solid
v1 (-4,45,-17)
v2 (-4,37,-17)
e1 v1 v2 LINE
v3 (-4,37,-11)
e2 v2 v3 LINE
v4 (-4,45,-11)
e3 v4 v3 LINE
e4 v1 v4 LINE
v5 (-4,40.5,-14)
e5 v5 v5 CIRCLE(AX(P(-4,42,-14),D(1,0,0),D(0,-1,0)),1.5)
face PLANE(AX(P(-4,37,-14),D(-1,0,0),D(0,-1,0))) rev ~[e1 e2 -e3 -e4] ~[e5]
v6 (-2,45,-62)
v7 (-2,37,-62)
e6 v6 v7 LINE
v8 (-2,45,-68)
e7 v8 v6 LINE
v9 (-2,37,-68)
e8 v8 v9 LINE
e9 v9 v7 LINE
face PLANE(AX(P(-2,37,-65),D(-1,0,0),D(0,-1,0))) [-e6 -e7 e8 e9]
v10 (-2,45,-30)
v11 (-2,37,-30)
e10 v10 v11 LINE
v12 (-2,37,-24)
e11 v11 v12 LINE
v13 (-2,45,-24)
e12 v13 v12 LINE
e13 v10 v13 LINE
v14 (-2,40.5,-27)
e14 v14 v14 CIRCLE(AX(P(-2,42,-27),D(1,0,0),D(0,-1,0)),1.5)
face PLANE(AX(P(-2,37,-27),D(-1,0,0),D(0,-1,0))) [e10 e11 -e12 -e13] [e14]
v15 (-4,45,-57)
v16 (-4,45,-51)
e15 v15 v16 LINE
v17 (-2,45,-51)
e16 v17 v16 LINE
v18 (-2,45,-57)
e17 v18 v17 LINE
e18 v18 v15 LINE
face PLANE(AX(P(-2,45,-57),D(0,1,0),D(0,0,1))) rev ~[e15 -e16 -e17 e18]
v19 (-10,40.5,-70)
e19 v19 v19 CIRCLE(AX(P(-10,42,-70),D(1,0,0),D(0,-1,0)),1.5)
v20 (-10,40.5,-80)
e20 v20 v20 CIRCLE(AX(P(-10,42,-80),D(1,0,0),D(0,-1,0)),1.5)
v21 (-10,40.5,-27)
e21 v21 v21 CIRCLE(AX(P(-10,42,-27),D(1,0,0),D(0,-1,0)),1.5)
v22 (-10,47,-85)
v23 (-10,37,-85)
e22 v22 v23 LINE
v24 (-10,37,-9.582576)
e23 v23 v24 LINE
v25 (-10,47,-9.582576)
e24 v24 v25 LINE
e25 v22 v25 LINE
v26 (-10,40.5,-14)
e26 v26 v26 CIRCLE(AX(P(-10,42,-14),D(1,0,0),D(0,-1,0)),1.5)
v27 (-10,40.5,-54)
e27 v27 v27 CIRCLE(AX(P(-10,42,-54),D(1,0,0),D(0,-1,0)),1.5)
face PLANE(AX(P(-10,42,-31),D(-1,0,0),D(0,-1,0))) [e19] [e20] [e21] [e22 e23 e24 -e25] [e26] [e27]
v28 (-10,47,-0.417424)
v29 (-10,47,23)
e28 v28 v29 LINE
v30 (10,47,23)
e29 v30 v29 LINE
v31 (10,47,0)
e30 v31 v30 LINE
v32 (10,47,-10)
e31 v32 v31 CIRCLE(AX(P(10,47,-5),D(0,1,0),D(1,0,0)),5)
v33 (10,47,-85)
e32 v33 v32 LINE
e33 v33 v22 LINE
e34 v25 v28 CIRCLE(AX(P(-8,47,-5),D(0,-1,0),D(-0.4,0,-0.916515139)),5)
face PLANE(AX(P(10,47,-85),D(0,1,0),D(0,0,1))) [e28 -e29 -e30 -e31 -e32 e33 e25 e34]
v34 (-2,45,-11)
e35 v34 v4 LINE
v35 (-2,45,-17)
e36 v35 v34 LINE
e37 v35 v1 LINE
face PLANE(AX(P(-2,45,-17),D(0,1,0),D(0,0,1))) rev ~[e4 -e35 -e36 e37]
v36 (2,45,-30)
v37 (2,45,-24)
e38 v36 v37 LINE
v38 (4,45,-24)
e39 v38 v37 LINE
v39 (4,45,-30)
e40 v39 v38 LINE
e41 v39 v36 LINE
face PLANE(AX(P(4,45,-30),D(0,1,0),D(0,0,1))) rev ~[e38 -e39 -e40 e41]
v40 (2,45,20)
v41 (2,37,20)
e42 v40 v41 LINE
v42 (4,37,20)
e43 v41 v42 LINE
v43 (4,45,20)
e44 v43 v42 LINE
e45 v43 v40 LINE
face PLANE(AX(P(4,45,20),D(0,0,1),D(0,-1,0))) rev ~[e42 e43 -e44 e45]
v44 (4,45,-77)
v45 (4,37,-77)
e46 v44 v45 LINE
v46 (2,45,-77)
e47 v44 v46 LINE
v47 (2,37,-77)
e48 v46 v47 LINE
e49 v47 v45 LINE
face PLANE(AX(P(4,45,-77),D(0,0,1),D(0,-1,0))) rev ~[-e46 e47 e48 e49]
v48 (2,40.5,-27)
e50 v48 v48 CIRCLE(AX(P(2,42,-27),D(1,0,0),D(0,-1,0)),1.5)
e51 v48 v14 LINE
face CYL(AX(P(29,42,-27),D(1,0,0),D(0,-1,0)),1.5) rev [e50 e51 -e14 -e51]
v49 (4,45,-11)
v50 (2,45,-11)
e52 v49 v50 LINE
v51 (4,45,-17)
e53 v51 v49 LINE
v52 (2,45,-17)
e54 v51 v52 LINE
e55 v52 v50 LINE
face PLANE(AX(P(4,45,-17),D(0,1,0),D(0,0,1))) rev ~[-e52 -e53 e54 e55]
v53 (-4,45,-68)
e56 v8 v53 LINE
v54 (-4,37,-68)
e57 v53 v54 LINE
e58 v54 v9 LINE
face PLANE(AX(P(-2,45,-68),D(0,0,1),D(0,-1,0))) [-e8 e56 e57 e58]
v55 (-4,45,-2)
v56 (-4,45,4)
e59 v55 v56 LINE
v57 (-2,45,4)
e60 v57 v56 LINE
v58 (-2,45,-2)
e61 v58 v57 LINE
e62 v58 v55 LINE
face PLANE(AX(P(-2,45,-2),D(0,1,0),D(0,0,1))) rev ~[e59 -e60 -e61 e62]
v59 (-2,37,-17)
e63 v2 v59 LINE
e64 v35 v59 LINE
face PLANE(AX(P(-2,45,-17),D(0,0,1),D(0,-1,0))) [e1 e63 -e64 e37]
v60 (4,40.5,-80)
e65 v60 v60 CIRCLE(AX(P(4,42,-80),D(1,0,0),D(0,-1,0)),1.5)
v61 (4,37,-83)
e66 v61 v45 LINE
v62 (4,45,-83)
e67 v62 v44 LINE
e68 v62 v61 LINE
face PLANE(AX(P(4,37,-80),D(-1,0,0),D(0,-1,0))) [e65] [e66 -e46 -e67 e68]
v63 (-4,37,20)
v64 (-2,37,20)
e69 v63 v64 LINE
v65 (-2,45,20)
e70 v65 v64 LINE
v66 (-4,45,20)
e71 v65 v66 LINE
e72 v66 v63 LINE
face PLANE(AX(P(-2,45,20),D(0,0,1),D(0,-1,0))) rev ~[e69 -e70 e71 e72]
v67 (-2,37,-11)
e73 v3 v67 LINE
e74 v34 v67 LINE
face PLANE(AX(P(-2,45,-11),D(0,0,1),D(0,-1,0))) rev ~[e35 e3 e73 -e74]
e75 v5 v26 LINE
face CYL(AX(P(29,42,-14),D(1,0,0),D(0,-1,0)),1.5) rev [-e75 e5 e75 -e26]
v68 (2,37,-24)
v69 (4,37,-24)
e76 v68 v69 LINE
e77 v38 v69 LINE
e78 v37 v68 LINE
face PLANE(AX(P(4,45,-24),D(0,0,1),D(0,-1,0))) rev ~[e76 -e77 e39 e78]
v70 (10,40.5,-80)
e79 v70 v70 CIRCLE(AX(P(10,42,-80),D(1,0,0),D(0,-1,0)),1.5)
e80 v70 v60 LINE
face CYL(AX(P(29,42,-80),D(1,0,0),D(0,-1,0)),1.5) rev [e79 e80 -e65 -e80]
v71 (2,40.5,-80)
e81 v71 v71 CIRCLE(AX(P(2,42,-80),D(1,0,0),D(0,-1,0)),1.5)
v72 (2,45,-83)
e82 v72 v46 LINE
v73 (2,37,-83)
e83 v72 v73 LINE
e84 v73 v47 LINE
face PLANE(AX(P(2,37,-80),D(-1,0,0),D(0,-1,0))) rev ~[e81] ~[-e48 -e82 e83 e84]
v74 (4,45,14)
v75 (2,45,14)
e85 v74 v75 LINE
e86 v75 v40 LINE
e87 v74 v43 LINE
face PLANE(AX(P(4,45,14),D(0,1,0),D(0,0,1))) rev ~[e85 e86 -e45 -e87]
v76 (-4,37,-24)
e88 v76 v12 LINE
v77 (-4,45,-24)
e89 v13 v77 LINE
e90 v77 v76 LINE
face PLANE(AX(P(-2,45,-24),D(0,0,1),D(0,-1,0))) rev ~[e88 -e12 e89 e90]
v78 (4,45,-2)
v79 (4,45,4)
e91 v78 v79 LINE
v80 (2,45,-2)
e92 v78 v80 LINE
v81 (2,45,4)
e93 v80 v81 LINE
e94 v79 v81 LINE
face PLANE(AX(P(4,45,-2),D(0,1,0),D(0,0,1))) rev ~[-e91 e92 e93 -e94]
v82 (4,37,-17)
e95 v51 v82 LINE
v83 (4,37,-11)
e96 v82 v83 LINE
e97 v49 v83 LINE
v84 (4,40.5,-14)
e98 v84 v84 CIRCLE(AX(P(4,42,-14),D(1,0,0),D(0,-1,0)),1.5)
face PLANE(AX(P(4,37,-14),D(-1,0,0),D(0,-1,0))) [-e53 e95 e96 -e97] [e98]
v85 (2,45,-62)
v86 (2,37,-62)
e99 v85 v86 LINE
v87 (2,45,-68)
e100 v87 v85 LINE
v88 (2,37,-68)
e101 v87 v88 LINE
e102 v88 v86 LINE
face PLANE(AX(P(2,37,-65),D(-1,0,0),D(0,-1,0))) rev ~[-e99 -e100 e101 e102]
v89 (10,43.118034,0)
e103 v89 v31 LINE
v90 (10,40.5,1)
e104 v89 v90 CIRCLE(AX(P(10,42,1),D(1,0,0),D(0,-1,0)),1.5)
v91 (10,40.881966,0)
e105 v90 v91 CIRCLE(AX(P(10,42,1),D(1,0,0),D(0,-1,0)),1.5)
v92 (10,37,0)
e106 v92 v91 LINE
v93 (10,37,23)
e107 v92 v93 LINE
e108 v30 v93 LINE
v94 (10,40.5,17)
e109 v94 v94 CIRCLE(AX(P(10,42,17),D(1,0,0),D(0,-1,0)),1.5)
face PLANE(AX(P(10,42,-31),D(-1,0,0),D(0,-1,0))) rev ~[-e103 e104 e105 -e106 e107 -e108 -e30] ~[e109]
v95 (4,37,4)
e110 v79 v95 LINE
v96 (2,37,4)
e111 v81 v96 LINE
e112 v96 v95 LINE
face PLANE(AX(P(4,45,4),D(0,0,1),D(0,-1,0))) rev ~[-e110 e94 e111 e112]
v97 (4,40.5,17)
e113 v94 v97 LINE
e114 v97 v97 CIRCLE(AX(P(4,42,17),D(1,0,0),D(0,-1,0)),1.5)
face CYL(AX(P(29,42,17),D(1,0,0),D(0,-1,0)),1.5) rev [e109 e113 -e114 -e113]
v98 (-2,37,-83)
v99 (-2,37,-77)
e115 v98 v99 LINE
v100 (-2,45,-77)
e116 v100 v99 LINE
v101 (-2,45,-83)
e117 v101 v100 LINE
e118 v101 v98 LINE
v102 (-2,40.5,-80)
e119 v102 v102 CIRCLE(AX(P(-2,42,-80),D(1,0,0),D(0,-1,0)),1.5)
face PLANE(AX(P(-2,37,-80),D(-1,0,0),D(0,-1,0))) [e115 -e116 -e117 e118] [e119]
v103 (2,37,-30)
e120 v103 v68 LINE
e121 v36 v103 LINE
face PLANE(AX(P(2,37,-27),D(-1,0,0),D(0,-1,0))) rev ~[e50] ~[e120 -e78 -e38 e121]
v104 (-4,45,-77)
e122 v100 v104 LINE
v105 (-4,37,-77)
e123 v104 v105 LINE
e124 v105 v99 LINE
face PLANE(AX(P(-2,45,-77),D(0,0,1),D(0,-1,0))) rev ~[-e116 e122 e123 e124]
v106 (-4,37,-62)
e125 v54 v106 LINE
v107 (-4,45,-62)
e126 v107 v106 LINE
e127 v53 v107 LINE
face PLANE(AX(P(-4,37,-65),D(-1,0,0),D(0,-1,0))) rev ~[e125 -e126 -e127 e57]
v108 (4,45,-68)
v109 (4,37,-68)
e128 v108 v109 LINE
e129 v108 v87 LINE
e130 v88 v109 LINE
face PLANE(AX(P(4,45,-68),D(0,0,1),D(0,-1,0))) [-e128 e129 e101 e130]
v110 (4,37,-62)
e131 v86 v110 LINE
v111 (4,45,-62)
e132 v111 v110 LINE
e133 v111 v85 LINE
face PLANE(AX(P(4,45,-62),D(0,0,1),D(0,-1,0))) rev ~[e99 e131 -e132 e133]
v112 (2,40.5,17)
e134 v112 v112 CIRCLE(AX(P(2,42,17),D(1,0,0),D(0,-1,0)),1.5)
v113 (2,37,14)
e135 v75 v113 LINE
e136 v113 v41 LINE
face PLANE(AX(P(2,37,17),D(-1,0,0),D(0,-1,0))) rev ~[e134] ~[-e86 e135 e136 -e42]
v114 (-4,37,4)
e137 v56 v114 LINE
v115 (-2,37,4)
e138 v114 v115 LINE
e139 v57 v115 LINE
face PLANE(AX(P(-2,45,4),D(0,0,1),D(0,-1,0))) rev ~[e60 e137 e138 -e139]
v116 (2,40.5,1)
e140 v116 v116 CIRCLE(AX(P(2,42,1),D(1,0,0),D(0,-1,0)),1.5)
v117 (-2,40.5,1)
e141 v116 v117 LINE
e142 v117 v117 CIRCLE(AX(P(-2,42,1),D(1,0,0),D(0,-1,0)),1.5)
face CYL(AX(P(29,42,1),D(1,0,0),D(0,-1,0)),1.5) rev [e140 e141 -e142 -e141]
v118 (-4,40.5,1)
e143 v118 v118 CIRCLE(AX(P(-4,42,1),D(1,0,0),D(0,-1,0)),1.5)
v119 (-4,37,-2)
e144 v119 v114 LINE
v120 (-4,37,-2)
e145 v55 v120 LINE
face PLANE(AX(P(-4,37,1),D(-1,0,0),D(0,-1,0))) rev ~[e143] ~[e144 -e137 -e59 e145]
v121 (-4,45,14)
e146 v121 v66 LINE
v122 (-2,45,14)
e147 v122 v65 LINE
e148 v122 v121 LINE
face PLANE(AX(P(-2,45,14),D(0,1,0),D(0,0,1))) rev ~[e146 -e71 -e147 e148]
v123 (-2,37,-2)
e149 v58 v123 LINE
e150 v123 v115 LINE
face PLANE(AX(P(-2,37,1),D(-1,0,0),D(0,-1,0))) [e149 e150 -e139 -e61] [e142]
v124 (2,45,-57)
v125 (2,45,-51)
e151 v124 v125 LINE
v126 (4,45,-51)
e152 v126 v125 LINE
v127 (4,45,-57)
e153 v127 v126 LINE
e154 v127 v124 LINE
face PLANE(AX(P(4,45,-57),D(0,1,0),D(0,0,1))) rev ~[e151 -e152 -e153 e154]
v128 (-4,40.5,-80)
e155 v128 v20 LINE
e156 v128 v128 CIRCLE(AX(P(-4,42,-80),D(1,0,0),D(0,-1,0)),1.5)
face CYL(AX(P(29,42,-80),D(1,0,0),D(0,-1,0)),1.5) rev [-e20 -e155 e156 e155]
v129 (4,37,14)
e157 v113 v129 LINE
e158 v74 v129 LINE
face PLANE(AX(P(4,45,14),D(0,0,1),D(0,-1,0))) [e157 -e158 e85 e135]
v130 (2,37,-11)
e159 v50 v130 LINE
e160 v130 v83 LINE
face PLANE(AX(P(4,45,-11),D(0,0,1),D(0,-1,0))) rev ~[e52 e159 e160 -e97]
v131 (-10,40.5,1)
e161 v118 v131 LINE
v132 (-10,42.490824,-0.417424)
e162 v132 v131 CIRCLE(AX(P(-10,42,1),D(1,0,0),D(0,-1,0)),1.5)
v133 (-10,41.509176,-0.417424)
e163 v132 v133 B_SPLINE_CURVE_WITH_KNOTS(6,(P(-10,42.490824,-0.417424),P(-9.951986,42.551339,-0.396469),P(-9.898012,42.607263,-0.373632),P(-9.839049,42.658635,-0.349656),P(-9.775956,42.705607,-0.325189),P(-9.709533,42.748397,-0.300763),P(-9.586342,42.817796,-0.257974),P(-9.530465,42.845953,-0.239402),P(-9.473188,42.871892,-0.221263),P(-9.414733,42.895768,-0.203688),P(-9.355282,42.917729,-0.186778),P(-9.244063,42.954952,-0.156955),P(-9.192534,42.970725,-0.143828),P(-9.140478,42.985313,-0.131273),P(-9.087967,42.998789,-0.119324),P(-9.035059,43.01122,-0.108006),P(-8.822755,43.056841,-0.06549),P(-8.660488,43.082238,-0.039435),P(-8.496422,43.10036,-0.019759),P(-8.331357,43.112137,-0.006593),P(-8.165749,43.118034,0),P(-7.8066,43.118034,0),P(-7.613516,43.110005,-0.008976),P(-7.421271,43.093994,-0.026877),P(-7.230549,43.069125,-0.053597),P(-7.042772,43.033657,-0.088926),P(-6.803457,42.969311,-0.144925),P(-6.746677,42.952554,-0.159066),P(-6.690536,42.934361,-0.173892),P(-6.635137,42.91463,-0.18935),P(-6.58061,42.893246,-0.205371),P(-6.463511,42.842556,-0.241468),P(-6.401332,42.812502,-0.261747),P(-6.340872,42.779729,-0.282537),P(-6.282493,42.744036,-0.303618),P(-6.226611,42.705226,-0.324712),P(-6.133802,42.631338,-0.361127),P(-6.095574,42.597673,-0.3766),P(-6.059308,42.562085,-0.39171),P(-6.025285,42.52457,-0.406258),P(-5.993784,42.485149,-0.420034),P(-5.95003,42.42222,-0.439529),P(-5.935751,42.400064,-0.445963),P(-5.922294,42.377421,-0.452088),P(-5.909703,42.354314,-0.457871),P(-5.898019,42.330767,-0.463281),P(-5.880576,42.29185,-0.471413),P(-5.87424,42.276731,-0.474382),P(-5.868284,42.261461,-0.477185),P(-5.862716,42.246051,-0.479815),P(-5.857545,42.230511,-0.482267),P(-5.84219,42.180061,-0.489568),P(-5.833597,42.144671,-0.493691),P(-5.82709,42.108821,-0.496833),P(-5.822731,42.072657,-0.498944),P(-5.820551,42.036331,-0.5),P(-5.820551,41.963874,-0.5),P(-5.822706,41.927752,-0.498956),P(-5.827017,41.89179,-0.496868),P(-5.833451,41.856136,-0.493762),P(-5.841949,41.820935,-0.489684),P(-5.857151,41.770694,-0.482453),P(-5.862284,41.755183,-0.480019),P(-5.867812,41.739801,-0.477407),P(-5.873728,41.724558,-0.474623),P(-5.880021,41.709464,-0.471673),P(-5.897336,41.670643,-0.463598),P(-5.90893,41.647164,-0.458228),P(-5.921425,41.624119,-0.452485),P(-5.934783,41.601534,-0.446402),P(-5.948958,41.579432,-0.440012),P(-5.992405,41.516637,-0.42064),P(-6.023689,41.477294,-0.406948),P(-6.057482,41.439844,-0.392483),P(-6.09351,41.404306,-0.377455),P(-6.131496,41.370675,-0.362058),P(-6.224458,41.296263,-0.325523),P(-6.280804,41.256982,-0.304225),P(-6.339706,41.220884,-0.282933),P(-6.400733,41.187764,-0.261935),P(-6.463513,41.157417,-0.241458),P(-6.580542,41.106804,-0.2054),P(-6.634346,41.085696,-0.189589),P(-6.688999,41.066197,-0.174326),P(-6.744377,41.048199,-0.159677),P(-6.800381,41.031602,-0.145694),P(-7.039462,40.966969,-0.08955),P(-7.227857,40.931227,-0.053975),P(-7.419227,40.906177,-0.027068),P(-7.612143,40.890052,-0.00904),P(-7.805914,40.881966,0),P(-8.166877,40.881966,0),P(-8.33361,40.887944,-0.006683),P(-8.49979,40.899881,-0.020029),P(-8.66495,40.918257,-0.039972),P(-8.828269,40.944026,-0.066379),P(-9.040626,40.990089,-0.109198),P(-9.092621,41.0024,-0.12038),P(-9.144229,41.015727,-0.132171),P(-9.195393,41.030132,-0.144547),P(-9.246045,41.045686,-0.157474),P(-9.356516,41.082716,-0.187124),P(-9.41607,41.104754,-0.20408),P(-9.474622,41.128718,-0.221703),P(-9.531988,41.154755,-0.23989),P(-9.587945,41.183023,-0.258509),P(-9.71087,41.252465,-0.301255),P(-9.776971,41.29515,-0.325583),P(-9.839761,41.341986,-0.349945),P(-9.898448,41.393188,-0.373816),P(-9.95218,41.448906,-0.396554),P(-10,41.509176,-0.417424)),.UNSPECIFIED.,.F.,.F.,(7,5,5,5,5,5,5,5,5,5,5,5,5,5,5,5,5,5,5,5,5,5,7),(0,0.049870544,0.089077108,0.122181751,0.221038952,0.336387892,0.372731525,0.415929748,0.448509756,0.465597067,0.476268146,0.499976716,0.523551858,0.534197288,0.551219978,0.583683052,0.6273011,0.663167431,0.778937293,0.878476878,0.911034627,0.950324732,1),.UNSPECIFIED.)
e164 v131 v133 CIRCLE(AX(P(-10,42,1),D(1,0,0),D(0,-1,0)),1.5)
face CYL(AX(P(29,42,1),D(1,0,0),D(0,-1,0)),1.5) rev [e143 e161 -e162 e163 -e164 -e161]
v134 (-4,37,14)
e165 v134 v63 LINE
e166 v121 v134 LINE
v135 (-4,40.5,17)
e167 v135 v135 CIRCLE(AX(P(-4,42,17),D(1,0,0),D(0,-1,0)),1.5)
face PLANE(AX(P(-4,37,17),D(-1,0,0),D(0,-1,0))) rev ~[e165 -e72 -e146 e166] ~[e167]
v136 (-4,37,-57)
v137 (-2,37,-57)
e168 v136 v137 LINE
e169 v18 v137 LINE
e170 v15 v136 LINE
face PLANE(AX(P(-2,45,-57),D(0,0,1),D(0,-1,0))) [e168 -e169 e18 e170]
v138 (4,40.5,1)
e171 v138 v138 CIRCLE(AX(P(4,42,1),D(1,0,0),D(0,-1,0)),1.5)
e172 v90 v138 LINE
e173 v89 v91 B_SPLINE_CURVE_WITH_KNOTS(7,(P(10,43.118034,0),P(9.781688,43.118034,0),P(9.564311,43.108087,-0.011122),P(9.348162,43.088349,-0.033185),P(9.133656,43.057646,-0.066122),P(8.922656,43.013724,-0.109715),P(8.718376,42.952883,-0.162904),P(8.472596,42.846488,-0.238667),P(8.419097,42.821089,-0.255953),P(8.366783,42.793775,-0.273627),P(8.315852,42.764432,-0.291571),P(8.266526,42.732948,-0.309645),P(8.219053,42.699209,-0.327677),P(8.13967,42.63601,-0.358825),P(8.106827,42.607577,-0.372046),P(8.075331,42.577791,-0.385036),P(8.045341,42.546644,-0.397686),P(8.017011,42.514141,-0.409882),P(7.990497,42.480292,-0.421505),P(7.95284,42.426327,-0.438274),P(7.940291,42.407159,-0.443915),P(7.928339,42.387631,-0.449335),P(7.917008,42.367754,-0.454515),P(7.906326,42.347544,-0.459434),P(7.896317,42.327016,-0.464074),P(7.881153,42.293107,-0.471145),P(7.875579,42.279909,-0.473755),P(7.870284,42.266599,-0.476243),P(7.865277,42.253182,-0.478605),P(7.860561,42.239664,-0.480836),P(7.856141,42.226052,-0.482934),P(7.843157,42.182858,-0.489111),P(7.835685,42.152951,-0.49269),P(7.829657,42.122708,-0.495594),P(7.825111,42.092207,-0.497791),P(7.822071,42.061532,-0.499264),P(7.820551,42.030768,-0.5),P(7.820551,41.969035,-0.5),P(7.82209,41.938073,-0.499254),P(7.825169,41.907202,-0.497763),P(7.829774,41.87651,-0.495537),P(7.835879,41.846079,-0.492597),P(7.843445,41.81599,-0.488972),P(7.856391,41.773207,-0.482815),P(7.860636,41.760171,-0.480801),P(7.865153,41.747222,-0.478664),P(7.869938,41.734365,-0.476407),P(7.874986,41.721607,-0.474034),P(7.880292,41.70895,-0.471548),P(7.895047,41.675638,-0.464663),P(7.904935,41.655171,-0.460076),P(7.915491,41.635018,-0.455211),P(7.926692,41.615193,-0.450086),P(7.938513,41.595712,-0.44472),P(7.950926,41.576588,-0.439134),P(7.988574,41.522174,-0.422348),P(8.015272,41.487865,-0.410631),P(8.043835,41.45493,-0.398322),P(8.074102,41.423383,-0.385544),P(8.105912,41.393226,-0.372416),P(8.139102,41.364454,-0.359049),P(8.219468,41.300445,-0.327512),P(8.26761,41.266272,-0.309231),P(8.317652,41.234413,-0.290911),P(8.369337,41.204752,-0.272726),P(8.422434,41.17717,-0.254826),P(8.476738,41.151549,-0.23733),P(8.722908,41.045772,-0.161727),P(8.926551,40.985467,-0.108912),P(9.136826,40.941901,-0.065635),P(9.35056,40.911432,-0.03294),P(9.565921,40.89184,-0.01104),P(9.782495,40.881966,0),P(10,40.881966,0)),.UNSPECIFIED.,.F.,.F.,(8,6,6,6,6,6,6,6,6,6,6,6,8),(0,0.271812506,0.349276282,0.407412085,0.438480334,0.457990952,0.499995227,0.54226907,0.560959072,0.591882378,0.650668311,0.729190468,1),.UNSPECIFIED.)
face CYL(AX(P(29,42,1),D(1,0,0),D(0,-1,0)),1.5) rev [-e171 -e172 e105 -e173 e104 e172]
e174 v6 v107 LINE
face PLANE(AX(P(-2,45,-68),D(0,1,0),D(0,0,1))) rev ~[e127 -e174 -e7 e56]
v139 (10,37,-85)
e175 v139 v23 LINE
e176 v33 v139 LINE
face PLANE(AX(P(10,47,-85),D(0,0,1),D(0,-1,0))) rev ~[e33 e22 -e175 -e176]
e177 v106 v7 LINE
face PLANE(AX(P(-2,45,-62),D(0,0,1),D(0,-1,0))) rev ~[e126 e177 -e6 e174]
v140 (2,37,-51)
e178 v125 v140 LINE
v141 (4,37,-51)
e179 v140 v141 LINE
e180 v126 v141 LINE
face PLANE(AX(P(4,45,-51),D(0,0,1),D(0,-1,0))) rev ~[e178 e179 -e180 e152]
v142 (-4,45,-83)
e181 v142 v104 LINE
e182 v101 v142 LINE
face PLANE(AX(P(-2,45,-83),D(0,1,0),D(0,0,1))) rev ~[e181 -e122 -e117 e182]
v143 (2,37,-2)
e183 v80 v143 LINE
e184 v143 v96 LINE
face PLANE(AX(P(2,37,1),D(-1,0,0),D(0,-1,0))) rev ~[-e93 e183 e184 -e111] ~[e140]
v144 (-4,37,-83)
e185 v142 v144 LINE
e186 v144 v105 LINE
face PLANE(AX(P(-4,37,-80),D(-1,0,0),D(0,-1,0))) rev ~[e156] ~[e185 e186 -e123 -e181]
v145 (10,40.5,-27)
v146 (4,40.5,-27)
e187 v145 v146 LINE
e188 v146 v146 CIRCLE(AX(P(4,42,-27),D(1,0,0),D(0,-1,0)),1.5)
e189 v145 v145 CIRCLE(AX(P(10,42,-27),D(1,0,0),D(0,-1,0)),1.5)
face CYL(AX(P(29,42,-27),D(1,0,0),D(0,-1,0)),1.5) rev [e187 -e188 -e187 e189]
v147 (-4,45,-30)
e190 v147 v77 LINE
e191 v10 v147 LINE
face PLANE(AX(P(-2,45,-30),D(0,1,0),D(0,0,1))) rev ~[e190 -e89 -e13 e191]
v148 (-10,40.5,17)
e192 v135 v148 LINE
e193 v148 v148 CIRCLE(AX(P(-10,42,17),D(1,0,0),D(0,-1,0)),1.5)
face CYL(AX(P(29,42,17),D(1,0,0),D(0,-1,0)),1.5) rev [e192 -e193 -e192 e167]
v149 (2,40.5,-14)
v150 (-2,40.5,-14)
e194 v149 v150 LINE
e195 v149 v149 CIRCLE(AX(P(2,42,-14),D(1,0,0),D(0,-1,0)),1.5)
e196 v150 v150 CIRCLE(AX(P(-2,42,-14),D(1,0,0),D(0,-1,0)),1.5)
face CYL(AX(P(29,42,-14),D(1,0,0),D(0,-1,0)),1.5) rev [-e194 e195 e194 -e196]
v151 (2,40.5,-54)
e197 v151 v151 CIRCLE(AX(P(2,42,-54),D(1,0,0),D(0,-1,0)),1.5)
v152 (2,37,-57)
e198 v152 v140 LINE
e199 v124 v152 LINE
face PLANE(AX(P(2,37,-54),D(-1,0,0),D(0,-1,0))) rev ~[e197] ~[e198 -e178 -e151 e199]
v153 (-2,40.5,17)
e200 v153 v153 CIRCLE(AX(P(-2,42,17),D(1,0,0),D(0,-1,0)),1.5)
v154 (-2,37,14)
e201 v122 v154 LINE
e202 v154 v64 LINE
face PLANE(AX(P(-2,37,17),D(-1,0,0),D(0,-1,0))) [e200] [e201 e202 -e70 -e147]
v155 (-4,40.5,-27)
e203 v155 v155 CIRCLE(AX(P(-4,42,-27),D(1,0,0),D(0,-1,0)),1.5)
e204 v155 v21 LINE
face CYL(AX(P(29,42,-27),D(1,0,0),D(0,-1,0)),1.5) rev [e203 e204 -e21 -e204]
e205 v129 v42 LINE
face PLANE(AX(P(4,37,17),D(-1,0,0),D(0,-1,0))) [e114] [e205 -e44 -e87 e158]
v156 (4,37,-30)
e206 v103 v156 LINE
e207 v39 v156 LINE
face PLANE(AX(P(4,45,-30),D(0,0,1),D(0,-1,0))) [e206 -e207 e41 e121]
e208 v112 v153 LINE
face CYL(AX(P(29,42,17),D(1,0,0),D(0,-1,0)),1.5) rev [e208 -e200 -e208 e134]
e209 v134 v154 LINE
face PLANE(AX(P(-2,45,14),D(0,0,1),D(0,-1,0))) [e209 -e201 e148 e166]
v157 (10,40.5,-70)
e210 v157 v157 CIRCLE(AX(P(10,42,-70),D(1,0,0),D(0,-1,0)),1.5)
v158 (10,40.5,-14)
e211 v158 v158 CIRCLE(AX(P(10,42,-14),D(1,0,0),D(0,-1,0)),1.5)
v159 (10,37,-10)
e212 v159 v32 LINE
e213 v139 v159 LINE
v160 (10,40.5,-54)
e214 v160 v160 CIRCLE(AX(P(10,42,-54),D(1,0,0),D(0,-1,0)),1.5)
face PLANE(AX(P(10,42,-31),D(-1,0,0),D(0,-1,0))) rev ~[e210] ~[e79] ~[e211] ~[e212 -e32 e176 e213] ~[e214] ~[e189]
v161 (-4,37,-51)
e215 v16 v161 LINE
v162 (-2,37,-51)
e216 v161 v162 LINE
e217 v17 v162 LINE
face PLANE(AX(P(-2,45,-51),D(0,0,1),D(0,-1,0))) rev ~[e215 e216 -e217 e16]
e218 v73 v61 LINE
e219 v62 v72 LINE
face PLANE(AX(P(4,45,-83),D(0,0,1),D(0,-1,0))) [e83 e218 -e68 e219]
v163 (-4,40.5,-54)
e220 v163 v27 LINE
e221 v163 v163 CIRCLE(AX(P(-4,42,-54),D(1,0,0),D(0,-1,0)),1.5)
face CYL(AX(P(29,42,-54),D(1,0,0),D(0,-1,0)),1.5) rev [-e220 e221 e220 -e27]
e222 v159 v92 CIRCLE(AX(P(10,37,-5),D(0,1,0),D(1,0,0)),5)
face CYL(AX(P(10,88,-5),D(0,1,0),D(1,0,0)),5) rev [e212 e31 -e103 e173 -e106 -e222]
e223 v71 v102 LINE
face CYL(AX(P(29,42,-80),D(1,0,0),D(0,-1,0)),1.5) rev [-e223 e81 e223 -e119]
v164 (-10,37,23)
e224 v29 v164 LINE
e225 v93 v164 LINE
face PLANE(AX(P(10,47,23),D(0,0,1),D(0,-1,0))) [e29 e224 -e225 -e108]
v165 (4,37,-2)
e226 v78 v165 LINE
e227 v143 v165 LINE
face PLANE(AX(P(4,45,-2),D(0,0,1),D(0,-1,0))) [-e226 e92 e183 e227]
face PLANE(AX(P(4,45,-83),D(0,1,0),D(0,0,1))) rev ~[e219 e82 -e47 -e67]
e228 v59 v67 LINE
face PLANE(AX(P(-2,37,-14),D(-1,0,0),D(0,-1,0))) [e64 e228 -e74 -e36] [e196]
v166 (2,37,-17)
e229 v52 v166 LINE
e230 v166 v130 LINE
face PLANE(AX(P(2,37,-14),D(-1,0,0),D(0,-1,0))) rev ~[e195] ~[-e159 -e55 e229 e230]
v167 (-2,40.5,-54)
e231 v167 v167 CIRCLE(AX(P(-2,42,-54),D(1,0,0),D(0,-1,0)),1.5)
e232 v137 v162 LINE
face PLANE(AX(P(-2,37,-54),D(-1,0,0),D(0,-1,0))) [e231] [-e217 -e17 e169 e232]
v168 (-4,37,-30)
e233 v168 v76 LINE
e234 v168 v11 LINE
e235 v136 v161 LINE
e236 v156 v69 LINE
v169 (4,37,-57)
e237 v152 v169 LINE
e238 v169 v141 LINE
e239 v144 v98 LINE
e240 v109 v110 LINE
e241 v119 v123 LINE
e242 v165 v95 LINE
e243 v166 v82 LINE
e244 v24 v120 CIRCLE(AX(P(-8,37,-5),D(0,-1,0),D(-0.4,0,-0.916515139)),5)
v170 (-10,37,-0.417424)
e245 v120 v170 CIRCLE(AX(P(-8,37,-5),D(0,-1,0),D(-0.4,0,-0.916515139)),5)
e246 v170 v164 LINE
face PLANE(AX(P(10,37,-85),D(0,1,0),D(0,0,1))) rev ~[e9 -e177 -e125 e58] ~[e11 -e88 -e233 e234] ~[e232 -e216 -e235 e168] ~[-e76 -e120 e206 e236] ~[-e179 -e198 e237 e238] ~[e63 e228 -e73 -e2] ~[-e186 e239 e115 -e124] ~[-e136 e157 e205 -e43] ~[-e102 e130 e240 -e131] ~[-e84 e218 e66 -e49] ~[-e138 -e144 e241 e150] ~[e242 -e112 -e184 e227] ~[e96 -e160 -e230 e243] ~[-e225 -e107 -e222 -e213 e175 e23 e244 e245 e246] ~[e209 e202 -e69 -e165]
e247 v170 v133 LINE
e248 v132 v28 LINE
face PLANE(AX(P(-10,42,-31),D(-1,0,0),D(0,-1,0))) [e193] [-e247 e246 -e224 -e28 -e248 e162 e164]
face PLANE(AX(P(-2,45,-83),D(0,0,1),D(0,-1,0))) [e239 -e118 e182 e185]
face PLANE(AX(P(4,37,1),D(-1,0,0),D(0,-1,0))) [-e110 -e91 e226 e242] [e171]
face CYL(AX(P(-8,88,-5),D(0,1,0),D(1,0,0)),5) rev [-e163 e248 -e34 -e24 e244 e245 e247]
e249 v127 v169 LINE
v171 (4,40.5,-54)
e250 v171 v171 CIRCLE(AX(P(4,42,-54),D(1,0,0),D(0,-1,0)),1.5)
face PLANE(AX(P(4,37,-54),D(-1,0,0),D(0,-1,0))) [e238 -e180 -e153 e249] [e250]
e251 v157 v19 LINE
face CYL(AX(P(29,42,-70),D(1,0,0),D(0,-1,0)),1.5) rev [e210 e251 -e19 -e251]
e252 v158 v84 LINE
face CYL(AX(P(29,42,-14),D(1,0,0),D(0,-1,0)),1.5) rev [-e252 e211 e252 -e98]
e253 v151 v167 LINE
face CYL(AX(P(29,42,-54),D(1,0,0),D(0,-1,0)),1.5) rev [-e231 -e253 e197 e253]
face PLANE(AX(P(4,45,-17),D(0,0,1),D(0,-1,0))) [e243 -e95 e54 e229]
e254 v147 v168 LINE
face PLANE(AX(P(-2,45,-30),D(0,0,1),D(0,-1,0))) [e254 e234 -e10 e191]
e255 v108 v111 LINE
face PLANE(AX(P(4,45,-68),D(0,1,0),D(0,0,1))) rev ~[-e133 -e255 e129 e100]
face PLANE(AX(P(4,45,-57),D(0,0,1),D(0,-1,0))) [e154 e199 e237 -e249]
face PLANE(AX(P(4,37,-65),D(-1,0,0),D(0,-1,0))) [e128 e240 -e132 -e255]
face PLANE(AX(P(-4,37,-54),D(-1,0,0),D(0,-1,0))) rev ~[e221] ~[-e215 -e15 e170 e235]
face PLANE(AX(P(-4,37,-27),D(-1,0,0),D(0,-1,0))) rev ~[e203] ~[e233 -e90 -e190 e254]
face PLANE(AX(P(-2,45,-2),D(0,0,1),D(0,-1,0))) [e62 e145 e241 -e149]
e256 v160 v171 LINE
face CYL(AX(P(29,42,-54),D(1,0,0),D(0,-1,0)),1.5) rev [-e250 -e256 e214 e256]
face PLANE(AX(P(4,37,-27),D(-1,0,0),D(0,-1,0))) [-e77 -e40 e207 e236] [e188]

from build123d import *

# Parameters (mm, degrees)
BOX183_W               = 16
BOX183_H               = 6
BOX183_DEPTH           = 2
BOX184_W               = 16
BOX184_H               = 6
BOX184_DEPTH           = 2
BOX185_W               = 16
BOX185_H               = 6
BOX185_DEPTH           = 2
BOX186_W               = 16
BOX186_H               = 6
BOX186_DEPTH           = 2
BOX187_W               = 16
BOX187_H               = 6
BOX187_DEPTH           = 2
BOX188_W               = 16
BOX188_H               = 6
BOX188_DEPTH           = 2
BOX189_W               = 16
BOX189_H               = 6
BOX189_DEPTH           = 2
BOX190_W               = 16
BOX190_H               = 6
BOX190_DEPTH           = 2
BOX191_W               = 16
BOX191_H               = 6
BOX191_DEPTH           = 2
BOX192_W               = 16
BOX192_H               = 6
BOX192_DEPTH           = 2
BOX193_W               = 16
BOX193_H               = 6
BOX193_DEPTH           = 2
BOX194_W               = 16
BOX194_H               = 6
BOX194_DEPTH           = 2
BOX195_W               = 16
BOX195_H               = 6
BOX195_DEPTH           = 2
BOX182_W               = 16
BOX182_H               = 6
BOX182_DEPTH           = 2
CYLINDER440_R          = 1.5
CYLINDER440_DEPTH      = 50
CYLINDER441_R          = 1.5
CYLINDER441_DEPTH      = 50
CYLINDER442_R          = 1.5
CYLINDER442_DEPTH      = 50
CYLINDER443_R          = 1.5
CYLINDER443_DEPTH      = 50
CYLINDER444_R          = 1.5
CYLINDER444_DEPTH      = 50
CYLINDER445_R          = 1.5
CYLINDER445_DEPTH      = 50
CYLINDER439_R          = 1.5
CYLINDER439_DEPTH      = 50
CYLINDER432_R          = 5
CYLINDER432_DEPTH      = 100
CYLINDER433_R          = 5
CYLINDER433_DEPTH      = 100
CYLINDER434_R          = 5
CYLINDER434_DEPTH      = 100
CYLINDER435_R          = 5
CYLINDER435_DEPTH      = 100
CYLINDER436_R          = 5
CYLINDER436_DEPTH      = 100
CYLINDER437_R          = 5
CYLINDER437_DEPTH      = 100
CYLINDER438_R          = 5
CYLINDER438_DEPTH      = 100
CYLINDER431_R          = 5
CYLINDER431_DEPTH      = 100
BOX181_W               = 10
BOX181_H               = 108
BOX181_DEPTH           = 20
CUT365_ROLL_ANGLE      = 90
CUT365_PLACEMENT_ANGLE = -90


with BuildPart() as krychle183:
    # Box183 → Box183 (new body)
    with BuildSketch(Plane(origin=(60, 2, 16), x_dir=(1, 0, 0), z_dir=(0, 0, 1))):
        with Locations((8, 3)):
            Rectangle(BOX183_W, BOX183_H)
    extrude(amount=BOX183_DEPTH)


with BuildPart() as krychle184:
    # Box184 → Box184 (new body)
    with BuildSketch(Plane(origin=(60, -25, 10), x_dir=(1, 0, 0), z_dir=(0, 0, 1))):
        with Locations((8, 3)):
            Rectangle(BOX184_W, BOX184_H)
    extrude(amount=BOX184_DEPTH)


with BuildPart() as krychle185:
    # Box185 → Box185 (new body)
    with BuildSketch(Plane(origin=(60, -25, 16), x_dir=(1, 0, 0), z_dir=(0, 0, 1))):
        with Locations((8, 3)):
            Rectangle(BOX185_W, BOX185_H)
    extrude(amount=BOX185_DEPTH)


with BuildPart() as krychle186:
    # Box186 → Box186 (new body)
    with BuildSketch(Plane(origin=(60, -36, 10), x_dir=(1, 0, 0), z_dir=(0, 0, 1))):
        with Locations((8, 3)):
            Rectangle(BOX186_W, BOX186_H)
    extrude(amount=BOX186_DEPTH)


with BuildPart() as krychle187:
    # Box187 → Box187 (new body)
    with BuildSketch(Plane(origin=(60, -36, 16), x_dir=(1, 0, 0), z_dir=(0, 0, 1))):
        with Locations((8, 3)):
            Rectangle(BOX187_W, BOX187_H)
    extrude(amount=BOX187_DEPTH)


with BuildPart() as krychle188:
    # Box188 → Box188 (new body)
    with BuildSketch(Plane(origin=(60, -51, 10), x_dir=(1, 0, 0), z_dir=(0, 0, 1))):
        with Locations((8, 3)):
            Rectangle(BOX188_W, BOX188_H)
    extrude(amount=BOX188_DEPTH)


with BuildPart() as krychle189:
    # Box189 → Box189 (new body)
    with BuildSketch(Plane(origin=(60, -51, 16), x_dir=(1, 0, 0), z_dir=(0, 0, 1))):
        with Locations((8, 3)):
            Rectangle(BOX189_W, BOX189_H)
    extrude(amount=BOX189_DEPTH)


with BuildPart() as krychle190:
    # Box190 → Box190 (new body)
    with BuildSketch(Plane(origin=(60, 15, 10), x_dir=(1, 0, 0), z_dir=(0, 0, 1))):
        with Locations((8, 3)):
            Rectangle(BOX190_W, BOX190_H)
    extrude(amount=BOX190_DEPTH)


with BuildPart() as krychle191:
    # Box191 → Box191 (new body)
    with BuildSketch(Plane(origin=(60, 30, 10), x_dir=(1, 0, 0), z_dir=(0, 0, 1))):
        with Locations((8, 3)):
            Rectangle(BOX191_W, BOX191_H)
    extrude(amount=BOX191_DEPTH)


with BuildPart() as krychle192:
    # Box192 → Box192 (new body)
    with BuildSketch(Plane(origin=(60, 46, 10), x_dir=(1, 0, 0), z_dir=(0, 0, 1))):
        with Locations((8, 3)):
            Rectangle(BOX192_W, BOX192_H)
    extrude(amount=BOX192_DEPTH)


with BuildPart() as krychle193:
    # Box193 → Box193 (new body)
    with BuildSketch(Plane(origin=(60, 15, 16), x_dir=(1, 0, 0), z_dir=(0, 0, 1))):
        with Locations((8, 3)):
            Rectangle(BOX193_W, BOX193_H)
    extrude(amount=BOX193_DEPTH)


with BuildPart() as krychle194:
    # Box194 → Box194 (new body)
    with BuildSketch(Plane(origin=(60, 30, 16), x_dir=(1, 0, 0), z_dir=(0, 0, 1))):
        with Locations((8, 3)):
            Rectangle(BOX194_W, BOX194_H)
    extrude(amount=BOX194_DEPTH)


with BuildPart() as krychle195:
    # Box195 → Box195 (new body)
    with BuildSketch(Plane(origin=(60, 46, 16), x_dir=(1, 0, 0), z_dir=(0, 0, 1))):
        with Locations((8, 3)):
            Rectangle(BOX195_W, BOX195_H)
    extrude(amount=BOX195_DEPTH)


with BuildPart() as compound585:
    # Box182 → Box182 (new body)
    with BuildSketch(Plane(origin=(60, 2, 10), x_dir=(1, 0, 0), z_dir=(0, 0, 1))):
        with Locations((8, 3)):
            Rectangle(BOX182_W, BOX182_H)
    extrude(amount=BOX182_DEPTH)

    # Compound585: union Krychle183, Krychle184, Krychle185, Krychle186, Krychle187, Krychle188, Krychle189, Krychle190, Krychle191, Krychle192, Krychle193, Krychle194, Krychle195
    add(krychle183.part)
    add(krychle184.part)
    add(krychle185.part)
    add(krychle186.part)
    add(krychle187.part)
    add(krychle188.part)
    add(krychle189.part)
    add(krychle190.part)
    add(krychle191.part)
    add(krychle192.part)
    add(krychle193.part)
    add(krychle194.part)
    add(krychle195.part)


with BuildPart() as compound585_1:
    # Compound585 placement: moved
    add(compound585.part.moved(Location((39, 24, 3))))


with BuildPart() as v_lec440:
    # Cylinder440 → Cylinder440 (new body)
    with BuildSketch(Plane(origin=(63, -22, -12), x_dir=(1, 0, 0), z_dir=(0, 0, 1))):
        Circle(CYLINDER440_R)
    extrude(amount=CYLINDER440_DEPTH)


with BuildPart() as v_lec441:
    # Cylinder441 → Cylinder441 (new body)
    with BuildSketch(Plane(origin=(63, -38, -12), x_dir=(1, 0, 0), z_dir=(0, 0, 1))):
        Circle(CYLINDER441_R)
    extrude(amount=CYLINDER441_DEPTH)


with BuildPart() as v_lec442:
    # Cylinder442 → Cylinder442 (new body)
    with BuildSketch(Plane(origin=(63, -48, -12), x_dir=(1, 0, 0), z_dir=(0, 0, 1))):
        Circle(CYLINDER442_R)
    extrude(amount=CYLINDER442_DEPTH)


with BuildPart() as v_lec443:
    # Cylinder443 → Cylinder443 (new body)
    with BuildSketch(Plane(origin=(63, 18, -12), x_dir=(1, 0, 0), z_dir=(0, 0, 1))):
        Circle(CYLINDER443_R)
    extrude(amount=CYLINDER443_DEPTH)


with BuildPart() as v_lec444:
    # Cylinder444 → Cylinder444 (new body)
    with BuildSketch(Plane(origin=(63, 33, -12), x_dir=(1, 0, 0), z_dir=(0, 0, 1))):
        Circle(CYLINDER444_R)
    extrude(amount=CYLINDER444_DEPTH)


with BuildPart() as v_lec445:
    # Cylinder445 → Cylinder445 (new body)
    with BuildSketch(Plane(origin=(63, 49, -12), x_dir=(1, 0, 0), z_dir=(0, 0, 1))):
        Circle(CYLINDER445_R)
    extrude(amount=CYLINDER445_DEPTH)


with BuildPart() as compound590:
    # Cylinder439 → Cylinder439 (new body)
    with BuildSketch(Plane(origin=(63, 5, -12), x_dir=(1, 0, 0), z_dir=(0, 0, 1))):
        Circle(CYLINDER439_R)
    extrude(amount=CYLINDER439_DEPTH)

    # Compound590: union Válec440, Válec441, Válec442, Válec443, Válec444, Válec445
    add(v_lec440.part)
    add(v_lec441.part)
    add(v_lec442.part)
    add(v_lec443.part)
    add(v_lec444.part)
    add(v_lec445.part)


with BuildPart() as compound590_1:
    # Compound590 placement: moved
    add(compound590.part.moved(Location((39, 24, 0))))


with BuildPart() as v_lec432:
    # Cylinder432 → Cylinder432 (new body)
    with BuildSketch(Plane(origin=(24, -51, 25), x_dir=(0, 0, -1), z_dir=(1, 0, 0))):
        Circle(CYLINDER432_R)
    extrude(amount=CYLINDER432_DEPTH)


with BuildPart() as v_lec433:
    # Cylinder433 → Cylinder433 (new body)
    with BuildSketch(Plane(origin=(24, 36, 34), x_dir=(0, 0, -1), z_dir=(1, 0, 0))):
        Circle(CYLINDER433_R)
    extrude(amount=CYLINDER433_DEPTH)


with BuildPart() as v_lec434:
    # Cylinder434 → Cylinder434 (new body)
    with BuildSketch(Plane(origin=(24, -36, 34), x_dir=(0, 0, -1), z_dir=(1, 0, 0))):
        Circle(CYLINDER434_R)
    extrude(amount=CYLINDER434_DEPTH)


with BuildPart() as v_lec435:
    # Cylinder435 → Cylinder435 (new body)
    with BuildSketch(Plane(origin=(24, -23, -5), x_dir=(0, 0, -1), z_dir=(1, 0, 0))):
        Circle(CYLINDER435_R)
    extrude(amount=CYLINDER435_DEPTH)


with BuildPart() as v_lec436:
    # Cylinder436 → Cylinder436 (new body)
    with BuildSketch(Plane(origin=(24, 51, 7), x_dir=(0, 0, -1), z_dir=(1, 0, 0))):
        Circle(CYLINDER436_R)
    extrude(amount=CYLINDER436_DEPTH)


with BuildPart() as v_lec437:
    # Cylinder437 → Cylinder437 (new body)
    with BuildSketch(Plane(origin=(24, 23, -5), x_dir=(0, 0, -1), z_dir=(1, 0, 0))):
        Circle(CYLINDER437_R)
    extrude(amount=CYLINDER437_DEPTH)


with BuildPart() as v_lec438:
    # Cylinder438 → Cylinder438 (new body)
    with BuildSketch(Plane(origin=(24, -51, 7), x_dir=(0, 0, -1), z_dir=(1, 0, 0))):
        Circle(CYLINDER438_R)
    extrude(amount=CYLINDER438_DEPTH)


with BuildPart() as compound589:
    # Cylinder431 → Cylinder431 (new body)
    with BuildSketch(Plane(origin=(24, 51, 25), x_dir=(0, 0, -1), z_dir=(1, 0, 0))):
        Circle(CYLINDER431_R)
    extrude(amount=CYLINDER431_DEPTH)

    # Compound589: union Válec432, Válec433, Válec434, Válec435, Válec436, Válec437, Válec438
    add(v_lec432.part)
    add(v_lec433.part)
    add(v_lec434.part)
    add(v_lec435.part)
    add(v_lec436.part)
    add(v_lec437.part)
    add(v_lec438.part)


with BuildPart() as compound589_1:
    # Compound589 placement: moved
    add(compound589.part.moved(Location((32, 0, 0))))


with BuildPart() as subshift:
    # Box181 → Box181 (new body)
    with BuildSketch(Plane(origin=(97, -29, 7), x_dir=(1, 0, 0), z_dir=(0, 0, 1))):
        with Locations((5, 54)):
            Rectangle(BOX181_W, BOX181_H)
    extrude(amount=BOX181_DEPTH)

    # Cut363: cut Compound589
    add(compound589_1.part, mode=Mode.SUBTRACT)

    # Cut364: cut Compound590
    add(compound590_1.part, mode=Mode.SUBTRACT)

    # Cut365: cut Compound585
    add(compound585_1.part, mode=Mode.SUBTRACT)


with BuildPart() as subshift_1:
    # Cut365 roll: moved
    add(subshift.part.rotate(Axis((0, 0, 0), (1, 0, 0)), CUT365_ROLL_ANGLE))


with BuildPart() as subshift_2:
    # Cut365 placement: moved
    add(subshift_1.part.moved(Location((17, 144, -56))).rotate(Axis((17, 144, -56), (0, 0, 1)), CUT365_PLACEMENT_ANGLE))


solid = subshift_2.part
